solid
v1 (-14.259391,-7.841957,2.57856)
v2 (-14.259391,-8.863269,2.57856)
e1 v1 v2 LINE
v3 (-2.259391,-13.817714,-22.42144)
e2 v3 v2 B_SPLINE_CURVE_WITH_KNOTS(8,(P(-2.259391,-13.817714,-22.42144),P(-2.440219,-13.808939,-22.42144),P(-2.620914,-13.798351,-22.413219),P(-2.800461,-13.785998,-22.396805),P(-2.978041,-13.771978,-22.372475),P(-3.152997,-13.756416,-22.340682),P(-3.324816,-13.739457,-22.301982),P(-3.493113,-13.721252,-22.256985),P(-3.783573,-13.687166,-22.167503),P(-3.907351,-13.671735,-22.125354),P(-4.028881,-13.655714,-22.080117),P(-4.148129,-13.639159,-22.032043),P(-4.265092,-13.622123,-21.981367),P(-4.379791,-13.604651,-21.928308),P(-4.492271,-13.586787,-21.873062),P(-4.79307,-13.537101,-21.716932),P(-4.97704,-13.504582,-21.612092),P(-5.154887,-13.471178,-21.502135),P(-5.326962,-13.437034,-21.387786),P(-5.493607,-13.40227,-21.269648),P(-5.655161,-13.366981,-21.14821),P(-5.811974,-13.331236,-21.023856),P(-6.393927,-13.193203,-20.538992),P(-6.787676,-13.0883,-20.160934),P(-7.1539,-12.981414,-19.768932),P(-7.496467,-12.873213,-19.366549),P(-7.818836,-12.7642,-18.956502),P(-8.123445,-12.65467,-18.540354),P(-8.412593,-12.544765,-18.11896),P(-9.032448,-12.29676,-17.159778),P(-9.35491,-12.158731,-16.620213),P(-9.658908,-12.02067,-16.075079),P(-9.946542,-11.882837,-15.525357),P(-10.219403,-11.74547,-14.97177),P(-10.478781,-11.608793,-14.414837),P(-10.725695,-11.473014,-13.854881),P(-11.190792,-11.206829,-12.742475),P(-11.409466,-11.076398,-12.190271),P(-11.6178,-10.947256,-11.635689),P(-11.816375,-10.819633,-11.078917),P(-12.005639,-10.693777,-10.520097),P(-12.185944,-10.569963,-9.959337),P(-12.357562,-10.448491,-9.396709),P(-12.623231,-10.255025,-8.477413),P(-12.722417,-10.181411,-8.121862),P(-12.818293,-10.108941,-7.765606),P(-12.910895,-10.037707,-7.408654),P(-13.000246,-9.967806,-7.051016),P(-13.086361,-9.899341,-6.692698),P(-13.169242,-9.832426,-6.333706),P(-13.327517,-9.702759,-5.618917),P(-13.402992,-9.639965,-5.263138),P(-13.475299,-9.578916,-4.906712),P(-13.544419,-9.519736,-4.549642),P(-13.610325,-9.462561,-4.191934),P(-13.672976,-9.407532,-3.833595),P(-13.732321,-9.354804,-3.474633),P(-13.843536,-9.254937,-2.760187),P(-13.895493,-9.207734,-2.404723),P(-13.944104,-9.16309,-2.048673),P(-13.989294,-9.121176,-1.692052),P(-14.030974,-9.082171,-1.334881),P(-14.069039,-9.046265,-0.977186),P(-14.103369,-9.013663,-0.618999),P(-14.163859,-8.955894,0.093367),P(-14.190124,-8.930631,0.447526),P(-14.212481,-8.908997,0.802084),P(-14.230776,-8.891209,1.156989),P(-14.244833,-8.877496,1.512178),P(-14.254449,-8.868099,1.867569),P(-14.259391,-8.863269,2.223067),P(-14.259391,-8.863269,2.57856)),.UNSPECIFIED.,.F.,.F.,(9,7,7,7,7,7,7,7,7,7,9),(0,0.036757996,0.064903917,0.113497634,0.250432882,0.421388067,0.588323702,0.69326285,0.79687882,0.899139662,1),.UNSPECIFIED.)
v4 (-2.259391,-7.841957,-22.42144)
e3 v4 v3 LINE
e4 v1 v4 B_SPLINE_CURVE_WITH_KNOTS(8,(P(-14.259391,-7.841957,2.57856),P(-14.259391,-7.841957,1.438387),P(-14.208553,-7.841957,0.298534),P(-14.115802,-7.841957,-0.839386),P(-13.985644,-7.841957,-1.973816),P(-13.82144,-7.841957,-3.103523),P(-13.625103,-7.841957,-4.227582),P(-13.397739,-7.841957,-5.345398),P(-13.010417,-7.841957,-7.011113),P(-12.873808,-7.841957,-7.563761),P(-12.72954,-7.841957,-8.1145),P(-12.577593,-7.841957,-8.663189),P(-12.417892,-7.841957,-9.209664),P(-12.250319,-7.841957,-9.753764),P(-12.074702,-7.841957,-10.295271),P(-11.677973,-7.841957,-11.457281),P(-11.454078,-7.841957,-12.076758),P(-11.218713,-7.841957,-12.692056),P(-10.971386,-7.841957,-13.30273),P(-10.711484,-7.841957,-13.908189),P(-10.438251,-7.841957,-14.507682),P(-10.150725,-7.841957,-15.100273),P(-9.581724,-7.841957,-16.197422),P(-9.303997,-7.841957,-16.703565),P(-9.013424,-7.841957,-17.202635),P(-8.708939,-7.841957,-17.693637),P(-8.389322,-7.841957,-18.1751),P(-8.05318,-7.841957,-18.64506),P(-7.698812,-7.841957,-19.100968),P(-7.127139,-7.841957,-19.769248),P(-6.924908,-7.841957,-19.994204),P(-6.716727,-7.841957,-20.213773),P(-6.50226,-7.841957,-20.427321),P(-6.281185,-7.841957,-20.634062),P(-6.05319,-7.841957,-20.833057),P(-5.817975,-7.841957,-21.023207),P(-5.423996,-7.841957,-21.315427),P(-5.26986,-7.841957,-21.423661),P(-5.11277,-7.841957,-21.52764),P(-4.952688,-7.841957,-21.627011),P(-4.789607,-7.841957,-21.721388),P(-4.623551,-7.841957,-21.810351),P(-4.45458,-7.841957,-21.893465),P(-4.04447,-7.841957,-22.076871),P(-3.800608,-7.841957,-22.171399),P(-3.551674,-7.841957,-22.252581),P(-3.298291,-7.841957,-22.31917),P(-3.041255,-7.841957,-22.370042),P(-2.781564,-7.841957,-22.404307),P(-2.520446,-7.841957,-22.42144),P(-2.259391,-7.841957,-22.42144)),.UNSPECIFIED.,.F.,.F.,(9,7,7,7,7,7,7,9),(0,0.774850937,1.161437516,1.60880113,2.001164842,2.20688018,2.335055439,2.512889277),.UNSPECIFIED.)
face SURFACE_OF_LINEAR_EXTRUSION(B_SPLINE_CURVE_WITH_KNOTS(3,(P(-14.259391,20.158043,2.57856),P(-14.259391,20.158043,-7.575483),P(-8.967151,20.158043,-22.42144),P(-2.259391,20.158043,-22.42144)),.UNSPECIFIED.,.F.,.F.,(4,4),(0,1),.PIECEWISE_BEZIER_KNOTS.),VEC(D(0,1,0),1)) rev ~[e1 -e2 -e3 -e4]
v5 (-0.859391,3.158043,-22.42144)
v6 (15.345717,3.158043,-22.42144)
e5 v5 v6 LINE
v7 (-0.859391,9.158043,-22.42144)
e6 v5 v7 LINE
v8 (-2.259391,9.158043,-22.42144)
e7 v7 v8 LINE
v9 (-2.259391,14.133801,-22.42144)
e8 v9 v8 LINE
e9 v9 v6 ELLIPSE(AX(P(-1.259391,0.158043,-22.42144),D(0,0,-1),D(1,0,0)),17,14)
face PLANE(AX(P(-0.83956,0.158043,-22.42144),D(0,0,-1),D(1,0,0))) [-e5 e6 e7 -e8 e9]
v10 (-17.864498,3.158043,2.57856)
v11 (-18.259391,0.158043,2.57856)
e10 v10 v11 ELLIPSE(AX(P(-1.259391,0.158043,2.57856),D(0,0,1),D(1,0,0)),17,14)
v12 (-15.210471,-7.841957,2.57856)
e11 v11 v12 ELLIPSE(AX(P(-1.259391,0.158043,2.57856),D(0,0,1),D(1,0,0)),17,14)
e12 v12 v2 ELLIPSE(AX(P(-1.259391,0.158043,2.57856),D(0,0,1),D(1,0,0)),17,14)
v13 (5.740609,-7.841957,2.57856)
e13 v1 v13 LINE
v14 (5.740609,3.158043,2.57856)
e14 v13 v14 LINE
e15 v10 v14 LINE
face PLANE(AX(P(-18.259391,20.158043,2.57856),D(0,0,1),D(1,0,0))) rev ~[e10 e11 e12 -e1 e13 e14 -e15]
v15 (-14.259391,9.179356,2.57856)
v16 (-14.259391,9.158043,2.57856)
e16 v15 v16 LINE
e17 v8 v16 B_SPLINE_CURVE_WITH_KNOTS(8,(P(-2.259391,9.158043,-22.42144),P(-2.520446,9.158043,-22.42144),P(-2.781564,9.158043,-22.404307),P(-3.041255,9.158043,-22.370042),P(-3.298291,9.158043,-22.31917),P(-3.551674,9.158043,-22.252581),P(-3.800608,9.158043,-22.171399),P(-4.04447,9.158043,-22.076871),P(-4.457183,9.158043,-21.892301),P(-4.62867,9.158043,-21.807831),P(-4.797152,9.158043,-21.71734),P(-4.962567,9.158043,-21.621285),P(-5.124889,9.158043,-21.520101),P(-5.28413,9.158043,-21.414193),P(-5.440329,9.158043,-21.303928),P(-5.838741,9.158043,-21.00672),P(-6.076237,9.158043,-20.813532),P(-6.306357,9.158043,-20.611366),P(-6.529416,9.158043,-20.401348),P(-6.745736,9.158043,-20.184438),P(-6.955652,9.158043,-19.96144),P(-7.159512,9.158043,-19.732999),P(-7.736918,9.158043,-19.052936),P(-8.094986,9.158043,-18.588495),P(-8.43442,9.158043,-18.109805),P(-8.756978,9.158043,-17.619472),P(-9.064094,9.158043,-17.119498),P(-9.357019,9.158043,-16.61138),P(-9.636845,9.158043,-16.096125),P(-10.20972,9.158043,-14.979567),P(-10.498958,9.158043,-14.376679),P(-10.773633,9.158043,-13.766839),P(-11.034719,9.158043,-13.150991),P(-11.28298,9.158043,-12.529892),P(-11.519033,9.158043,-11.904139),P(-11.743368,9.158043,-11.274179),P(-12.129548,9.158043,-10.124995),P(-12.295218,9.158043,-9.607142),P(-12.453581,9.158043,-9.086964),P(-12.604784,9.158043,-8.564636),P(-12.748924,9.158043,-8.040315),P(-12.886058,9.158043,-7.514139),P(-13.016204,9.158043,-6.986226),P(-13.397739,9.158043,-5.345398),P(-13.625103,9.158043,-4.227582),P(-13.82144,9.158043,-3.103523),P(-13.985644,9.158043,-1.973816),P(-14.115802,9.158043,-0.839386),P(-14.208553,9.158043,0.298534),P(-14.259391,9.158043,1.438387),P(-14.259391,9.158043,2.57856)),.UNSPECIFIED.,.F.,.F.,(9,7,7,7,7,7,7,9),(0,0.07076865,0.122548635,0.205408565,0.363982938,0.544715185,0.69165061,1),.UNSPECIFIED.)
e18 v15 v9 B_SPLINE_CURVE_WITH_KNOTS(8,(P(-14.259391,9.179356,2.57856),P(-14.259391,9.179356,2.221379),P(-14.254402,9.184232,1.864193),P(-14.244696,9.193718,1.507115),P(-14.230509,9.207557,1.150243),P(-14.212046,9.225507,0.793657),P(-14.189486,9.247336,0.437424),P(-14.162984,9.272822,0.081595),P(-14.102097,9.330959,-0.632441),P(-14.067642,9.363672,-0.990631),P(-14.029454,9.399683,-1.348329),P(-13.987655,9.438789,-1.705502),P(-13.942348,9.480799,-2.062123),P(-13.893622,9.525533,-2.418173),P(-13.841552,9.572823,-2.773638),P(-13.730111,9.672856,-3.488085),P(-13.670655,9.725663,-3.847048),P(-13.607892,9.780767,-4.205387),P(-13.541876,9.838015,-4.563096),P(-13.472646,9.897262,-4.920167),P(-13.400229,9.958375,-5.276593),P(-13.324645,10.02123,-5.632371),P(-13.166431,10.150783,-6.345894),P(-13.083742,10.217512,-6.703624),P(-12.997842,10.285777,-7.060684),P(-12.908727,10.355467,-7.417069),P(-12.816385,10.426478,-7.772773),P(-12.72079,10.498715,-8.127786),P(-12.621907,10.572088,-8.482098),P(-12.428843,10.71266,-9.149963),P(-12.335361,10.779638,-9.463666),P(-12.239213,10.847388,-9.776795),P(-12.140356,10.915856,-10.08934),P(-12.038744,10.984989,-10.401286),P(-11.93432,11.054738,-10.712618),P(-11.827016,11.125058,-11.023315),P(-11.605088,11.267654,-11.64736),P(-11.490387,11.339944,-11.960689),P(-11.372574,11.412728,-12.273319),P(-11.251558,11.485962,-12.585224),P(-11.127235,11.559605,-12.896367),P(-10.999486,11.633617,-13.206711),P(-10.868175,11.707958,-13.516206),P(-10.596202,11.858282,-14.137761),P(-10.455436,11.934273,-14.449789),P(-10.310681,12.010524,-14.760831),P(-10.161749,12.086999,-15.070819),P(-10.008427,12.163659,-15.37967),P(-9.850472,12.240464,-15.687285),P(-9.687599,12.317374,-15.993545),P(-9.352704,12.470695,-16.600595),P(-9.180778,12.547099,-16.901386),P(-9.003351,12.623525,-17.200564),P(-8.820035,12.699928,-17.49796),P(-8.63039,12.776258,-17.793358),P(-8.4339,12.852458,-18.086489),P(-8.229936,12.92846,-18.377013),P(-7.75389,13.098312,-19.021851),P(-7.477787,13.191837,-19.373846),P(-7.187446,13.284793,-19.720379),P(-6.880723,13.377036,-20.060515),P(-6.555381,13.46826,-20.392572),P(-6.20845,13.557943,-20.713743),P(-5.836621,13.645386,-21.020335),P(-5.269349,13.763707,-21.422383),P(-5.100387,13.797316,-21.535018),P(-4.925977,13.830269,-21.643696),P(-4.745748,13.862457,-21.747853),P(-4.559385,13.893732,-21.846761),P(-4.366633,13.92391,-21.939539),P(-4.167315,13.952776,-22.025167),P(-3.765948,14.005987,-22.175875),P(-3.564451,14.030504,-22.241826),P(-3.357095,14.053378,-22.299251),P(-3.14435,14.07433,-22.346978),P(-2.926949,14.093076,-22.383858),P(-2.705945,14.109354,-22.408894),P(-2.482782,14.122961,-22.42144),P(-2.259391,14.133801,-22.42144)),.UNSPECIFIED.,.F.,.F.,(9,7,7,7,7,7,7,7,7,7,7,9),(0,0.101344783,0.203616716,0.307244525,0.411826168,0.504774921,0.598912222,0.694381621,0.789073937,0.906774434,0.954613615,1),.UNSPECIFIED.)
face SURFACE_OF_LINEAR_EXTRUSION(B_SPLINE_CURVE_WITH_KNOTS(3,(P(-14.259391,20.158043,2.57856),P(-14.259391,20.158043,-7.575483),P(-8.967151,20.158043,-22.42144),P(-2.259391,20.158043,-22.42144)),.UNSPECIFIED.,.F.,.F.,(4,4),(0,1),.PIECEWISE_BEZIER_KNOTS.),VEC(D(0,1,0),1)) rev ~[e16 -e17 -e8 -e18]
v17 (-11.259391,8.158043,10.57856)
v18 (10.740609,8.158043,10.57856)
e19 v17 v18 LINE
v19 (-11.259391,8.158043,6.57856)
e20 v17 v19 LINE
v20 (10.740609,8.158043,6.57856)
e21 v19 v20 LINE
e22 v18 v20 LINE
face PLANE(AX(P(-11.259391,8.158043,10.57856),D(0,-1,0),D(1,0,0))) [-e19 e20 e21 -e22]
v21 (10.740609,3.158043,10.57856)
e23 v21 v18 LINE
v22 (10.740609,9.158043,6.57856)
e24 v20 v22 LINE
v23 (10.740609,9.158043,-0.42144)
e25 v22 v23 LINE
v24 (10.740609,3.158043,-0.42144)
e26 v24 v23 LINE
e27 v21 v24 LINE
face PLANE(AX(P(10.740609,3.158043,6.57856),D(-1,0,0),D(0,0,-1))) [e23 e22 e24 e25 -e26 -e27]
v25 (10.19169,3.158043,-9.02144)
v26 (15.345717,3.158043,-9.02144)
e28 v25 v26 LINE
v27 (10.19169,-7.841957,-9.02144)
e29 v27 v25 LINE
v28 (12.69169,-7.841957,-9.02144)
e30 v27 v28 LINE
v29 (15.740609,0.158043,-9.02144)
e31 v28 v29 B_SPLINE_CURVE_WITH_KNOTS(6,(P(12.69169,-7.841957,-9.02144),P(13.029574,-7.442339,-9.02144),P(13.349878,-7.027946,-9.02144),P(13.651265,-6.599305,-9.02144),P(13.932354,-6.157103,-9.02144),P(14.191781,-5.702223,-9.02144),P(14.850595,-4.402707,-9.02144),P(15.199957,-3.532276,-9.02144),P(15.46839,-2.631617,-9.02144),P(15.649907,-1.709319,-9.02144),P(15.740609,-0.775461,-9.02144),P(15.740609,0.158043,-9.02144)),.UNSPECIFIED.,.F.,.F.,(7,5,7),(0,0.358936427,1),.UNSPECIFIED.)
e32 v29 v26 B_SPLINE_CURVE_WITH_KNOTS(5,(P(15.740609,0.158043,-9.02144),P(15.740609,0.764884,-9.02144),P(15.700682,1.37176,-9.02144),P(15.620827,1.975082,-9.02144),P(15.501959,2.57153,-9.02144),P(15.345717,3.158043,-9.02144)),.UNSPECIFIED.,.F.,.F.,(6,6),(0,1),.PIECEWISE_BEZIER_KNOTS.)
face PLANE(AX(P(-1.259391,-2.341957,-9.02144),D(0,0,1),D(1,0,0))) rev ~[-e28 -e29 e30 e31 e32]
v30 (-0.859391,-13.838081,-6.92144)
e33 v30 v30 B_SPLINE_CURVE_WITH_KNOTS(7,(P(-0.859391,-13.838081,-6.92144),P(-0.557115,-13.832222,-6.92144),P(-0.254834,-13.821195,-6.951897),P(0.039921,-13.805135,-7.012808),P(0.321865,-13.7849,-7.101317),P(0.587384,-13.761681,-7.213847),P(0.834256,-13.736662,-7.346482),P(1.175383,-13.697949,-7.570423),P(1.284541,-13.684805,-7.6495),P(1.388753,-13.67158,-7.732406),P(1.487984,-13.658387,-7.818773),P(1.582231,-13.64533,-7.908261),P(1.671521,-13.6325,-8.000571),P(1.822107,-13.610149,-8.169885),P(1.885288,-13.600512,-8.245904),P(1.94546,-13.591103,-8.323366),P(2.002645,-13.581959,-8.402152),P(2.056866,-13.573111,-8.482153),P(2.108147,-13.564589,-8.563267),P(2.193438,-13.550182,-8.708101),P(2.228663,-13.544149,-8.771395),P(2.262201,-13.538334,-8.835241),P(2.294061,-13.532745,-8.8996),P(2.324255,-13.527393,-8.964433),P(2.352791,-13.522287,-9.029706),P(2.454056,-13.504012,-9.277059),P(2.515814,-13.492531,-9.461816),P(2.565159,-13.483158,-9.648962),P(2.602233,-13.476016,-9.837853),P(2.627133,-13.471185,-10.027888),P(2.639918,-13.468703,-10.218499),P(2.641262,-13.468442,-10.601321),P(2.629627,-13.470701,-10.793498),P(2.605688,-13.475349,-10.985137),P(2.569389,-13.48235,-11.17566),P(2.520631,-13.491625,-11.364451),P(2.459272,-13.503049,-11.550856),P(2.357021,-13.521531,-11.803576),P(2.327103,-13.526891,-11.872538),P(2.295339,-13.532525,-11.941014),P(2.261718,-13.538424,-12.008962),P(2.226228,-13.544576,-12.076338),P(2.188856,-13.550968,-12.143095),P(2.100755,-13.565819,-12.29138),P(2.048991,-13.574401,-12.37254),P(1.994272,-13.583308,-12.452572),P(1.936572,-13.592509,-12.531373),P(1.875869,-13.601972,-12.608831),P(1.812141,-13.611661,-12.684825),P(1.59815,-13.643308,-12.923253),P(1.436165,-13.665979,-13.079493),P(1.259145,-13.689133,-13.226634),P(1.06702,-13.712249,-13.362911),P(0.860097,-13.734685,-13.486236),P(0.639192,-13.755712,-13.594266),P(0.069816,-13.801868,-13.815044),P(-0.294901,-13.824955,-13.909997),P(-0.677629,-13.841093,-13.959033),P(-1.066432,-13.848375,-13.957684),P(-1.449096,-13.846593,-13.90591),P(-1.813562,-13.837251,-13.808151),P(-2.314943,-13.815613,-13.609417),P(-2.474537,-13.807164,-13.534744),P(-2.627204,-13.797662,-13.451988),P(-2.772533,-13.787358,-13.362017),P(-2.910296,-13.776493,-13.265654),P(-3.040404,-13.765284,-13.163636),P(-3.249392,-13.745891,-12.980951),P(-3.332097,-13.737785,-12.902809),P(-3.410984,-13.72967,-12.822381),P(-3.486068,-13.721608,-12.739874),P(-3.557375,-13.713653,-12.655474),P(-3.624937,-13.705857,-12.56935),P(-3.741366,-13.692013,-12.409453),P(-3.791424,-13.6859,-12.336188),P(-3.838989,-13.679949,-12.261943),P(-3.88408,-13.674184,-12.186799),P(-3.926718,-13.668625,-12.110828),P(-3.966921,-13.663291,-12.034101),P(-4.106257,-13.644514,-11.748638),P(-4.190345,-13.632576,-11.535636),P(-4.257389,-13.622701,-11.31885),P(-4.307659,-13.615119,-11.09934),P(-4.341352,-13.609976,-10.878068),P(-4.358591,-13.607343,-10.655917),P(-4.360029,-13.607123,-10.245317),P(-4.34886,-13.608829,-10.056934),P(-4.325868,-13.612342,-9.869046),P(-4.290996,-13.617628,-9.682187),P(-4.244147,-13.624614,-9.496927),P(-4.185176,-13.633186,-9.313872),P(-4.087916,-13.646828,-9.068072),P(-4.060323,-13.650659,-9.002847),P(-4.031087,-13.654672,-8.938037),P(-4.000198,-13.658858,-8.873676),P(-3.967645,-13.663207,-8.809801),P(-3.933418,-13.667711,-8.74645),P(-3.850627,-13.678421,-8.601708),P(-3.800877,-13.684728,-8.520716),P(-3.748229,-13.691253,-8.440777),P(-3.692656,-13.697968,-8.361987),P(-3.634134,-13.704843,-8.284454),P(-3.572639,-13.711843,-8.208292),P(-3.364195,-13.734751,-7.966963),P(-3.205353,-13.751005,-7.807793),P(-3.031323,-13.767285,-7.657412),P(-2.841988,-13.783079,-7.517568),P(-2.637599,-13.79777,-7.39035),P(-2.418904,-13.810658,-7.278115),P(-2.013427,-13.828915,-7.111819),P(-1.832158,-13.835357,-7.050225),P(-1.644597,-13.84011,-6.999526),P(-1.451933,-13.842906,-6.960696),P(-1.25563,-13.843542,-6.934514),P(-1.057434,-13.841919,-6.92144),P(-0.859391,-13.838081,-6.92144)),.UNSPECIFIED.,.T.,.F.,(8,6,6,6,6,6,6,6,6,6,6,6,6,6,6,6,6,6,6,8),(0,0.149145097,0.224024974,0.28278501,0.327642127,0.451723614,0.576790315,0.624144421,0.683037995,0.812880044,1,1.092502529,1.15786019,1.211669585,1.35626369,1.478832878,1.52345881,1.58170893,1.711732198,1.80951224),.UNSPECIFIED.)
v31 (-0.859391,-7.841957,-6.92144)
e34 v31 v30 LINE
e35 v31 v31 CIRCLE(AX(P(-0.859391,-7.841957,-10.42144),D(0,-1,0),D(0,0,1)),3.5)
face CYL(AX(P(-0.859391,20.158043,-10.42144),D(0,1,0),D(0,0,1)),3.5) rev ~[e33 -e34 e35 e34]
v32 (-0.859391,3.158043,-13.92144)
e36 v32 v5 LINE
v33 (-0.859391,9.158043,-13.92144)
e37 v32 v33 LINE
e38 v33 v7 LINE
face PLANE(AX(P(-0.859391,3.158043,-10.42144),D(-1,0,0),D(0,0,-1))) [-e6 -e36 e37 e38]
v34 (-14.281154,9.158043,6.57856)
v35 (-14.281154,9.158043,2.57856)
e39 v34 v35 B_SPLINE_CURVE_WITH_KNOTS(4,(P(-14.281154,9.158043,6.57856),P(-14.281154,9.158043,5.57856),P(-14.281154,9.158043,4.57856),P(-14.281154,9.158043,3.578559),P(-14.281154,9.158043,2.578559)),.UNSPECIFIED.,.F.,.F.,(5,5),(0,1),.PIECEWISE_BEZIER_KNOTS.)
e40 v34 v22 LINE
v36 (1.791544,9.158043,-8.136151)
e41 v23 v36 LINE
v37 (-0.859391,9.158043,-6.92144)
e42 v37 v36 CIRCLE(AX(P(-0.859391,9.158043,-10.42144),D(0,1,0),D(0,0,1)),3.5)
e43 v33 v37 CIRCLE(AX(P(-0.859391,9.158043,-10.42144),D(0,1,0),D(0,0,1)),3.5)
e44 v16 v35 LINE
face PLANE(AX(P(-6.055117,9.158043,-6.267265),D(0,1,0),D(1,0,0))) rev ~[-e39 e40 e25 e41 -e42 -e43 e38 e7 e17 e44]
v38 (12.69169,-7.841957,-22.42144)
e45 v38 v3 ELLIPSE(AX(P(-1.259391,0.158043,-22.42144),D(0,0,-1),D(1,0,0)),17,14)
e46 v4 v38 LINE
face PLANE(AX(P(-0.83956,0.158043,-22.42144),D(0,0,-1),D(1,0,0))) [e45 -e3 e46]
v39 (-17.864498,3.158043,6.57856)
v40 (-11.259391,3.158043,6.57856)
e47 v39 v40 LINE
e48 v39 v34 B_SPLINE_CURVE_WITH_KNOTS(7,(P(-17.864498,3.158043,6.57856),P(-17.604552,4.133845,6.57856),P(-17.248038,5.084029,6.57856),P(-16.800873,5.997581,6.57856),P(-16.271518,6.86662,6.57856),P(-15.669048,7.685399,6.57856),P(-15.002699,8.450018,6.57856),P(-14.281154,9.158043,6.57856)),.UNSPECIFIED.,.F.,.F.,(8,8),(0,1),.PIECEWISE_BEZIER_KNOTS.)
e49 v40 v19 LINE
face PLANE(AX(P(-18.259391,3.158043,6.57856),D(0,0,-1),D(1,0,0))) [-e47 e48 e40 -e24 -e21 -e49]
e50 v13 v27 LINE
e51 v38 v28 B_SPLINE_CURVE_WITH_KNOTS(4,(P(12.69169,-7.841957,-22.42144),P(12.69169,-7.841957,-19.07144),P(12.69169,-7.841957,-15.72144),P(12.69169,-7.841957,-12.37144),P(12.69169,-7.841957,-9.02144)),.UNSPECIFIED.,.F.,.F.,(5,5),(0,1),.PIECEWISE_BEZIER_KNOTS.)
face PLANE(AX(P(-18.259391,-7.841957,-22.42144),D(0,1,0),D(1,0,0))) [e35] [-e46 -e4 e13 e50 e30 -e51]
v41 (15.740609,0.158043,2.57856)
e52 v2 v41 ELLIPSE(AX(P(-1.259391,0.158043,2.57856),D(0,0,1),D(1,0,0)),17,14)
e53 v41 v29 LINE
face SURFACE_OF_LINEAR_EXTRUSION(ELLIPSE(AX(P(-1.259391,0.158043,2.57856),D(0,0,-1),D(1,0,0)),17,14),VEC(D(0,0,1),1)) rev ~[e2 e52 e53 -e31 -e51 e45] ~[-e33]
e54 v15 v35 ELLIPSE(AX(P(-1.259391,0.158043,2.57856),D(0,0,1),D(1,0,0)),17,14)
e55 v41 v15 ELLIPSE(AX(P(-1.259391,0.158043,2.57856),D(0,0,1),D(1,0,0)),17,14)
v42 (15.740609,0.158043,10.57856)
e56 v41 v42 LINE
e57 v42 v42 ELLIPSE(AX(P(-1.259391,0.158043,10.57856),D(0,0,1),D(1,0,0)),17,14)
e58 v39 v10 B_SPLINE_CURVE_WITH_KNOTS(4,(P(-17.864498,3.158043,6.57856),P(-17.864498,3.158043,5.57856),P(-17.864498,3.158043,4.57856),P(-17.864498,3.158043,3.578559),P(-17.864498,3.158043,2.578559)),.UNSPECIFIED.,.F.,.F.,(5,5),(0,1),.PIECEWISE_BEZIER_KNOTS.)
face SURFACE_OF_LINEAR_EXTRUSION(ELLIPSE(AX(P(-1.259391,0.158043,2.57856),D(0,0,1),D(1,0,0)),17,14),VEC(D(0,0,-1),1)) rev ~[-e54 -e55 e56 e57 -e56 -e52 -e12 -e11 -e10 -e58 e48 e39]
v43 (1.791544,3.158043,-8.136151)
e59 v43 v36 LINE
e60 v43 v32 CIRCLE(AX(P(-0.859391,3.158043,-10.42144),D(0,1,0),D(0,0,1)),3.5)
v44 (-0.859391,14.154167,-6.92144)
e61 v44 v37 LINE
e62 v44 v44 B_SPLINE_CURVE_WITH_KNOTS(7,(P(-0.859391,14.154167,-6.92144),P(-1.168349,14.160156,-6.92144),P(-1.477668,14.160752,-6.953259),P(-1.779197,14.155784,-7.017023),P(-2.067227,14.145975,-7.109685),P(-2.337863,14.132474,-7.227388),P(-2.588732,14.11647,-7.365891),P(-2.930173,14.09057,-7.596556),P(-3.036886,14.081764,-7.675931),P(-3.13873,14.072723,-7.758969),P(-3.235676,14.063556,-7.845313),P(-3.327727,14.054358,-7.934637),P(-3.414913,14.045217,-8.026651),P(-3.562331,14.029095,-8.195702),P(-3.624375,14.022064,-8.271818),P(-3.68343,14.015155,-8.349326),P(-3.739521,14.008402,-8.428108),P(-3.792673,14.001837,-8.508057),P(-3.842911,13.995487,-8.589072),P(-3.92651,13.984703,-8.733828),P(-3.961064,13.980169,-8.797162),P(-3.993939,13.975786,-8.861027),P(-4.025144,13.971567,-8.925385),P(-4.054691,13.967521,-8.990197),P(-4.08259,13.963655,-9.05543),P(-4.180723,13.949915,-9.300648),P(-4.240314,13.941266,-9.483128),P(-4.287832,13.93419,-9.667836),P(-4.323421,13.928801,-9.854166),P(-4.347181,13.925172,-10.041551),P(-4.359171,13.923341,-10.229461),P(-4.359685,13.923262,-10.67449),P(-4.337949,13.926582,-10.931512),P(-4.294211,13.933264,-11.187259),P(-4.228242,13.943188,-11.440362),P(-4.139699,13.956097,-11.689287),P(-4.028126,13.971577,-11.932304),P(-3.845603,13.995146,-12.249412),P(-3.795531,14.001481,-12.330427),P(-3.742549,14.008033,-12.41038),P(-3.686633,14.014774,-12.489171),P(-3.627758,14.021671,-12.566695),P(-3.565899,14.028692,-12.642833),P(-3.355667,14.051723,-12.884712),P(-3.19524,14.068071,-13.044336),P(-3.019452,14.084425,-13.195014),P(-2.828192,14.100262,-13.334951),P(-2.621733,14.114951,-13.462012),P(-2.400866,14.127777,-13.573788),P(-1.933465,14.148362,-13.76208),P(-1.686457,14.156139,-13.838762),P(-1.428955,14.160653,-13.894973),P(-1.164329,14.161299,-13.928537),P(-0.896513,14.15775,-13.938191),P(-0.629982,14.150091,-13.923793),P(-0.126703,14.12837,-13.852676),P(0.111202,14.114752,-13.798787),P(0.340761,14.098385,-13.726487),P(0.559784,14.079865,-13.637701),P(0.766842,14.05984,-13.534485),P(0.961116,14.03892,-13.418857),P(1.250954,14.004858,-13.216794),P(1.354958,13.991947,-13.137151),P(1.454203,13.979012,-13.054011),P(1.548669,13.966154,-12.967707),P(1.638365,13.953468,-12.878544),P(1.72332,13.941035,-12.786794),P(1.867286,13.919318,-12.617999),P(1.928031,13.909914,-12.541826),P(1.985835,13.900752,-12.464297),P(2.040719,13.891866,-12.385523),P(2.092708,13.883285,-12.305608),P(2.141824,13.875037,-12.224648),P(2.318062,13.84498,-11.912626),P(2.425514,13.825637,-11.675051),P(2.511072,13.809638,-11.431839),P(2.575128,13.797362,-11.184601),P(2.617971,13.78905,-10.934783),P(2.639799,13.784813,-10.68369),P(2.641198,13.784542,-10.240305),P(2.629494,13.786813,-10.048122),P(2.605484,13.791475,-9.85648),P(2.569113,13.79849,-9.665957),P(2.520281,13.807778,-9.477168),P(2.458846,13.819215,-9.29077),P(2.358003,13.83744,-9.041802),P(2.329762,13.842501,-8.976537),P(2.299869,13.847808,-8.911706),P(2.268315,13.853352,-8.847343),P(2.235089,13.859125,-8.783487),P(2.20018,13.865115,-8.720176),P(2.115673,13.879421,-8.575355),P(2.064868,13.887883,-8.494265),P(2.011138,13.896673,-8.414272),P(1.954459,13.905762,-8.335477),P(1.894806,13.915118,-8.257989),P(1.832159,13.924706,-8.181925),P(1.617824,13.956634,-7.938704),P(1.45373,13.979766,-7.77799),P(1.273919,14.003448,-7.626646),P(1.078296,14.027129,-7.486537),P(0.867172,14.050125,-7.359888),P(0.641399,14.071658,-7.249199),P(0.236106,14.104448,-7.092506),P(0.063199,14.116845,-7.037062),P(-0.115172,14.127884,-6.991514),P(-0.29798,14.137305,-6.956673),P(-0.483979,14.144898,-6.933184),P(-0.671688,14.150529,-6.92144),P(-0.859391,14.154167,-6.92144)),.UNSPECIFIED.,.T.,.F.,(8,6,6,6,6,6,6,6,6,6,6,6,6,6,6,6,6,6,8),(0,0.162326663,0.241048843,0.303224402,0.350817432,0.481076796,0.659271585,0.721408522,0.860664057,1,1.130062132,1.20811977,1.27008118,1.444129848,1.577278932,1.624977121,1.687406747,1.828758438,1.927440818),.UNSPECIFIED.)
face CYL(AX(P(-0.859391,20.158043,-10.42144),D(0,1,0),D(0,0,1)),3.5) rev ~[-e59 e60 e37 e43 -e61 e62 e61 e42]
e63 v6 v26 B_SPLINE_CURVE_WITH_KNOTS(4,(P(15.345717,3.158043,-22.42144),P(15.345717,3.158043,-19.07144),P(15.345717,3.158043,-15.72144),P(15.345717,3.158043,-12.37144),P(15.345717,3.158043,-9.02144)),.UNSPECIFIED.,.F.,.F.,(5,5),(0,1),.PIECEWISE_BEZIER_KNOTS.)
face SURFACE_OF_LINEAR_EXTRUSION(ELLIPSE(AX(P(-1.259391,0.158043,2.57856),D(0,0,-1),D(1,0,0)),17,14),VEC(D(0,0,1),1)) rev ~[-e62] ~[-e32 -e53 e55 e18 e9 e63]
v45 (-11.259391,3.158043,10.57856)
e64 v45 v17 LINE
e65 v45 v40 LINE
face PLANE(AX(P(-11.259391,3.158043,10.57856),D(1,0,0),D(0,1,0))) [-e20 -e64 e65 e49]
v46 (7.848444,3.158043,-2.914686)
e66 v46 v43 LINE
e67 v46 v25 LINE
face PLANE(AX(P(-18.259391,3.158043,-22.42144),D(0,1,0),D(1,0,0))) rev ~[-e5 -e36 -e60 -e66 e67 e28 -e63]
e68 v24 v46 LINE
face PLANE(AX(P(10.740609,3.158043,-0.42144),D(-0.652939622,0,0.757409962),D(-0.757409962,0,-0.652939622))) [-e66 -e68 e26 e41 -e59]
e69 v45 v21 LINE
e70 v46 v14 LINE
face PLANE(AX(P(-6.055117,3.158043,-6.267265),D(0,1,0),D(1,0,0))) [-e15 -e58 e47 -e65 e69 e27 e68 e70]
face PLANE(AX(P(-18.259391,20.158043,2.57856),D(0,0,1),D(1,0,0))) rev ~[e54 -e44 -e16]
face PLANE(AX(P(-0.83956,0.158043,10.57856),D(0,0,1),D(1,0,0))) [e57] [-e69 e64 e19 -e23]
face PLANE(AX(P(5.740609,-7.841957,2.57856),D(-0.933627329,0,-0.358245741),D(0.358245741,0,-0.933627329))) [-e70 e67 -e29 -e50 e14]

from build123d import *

# Parameters (mm, degrees)
SKETCH1_RX          = 8.5
SKETCH1_RY          = 7
BOSS_EXTRUDE1_DEPTH = 4
SKETCH5_RX          = 8.5
SKETCH5_RY          = 7
BOSS_EXTRUDE2_DEPTH = 12.5
SKETCH6_R           = 1.75
CUT_EXTRUDE1_DEPTH  = 20
SKETCH8_W           = 17
SKETCH8_H           = 5.5
CUT_EXTRUDE4_DEPTH  = 6.7
SKETCH9_W           = 11
SKETCH9_H           = 2.5
CUT_EXTRUDE5_DEPTH  = 5.5
CUT_EXTRUDE7_DEPTH  = 5.5
CUT_EXTRUDE8_DEPTH  = 3
SCALE1_SCALE        = 2


with BuildPart() as part:
    # Sketch1 → Boss-Extrude1 (new body)
    with BuildSketch(Plane.XY):
        with Locations(Location((0, 0), (0, 0, 0))):
            Ellipse(SKETCH1_RX, SKETCH1_RY)
    extrude(amount=BOSS_EXTRUDE1_DEPTH)

    # Sketch5 → Boss-Extrude2 (add)
    with BuildSketch(Plane(origin=(0, 0, 0), x_dir=(-1, 0, 0), z_dir=(0, 0, -1))):
        with Locations(Location((0, 0), (0, 0, -180))):
            Ellipse(SKETCH5_RX, SKETCH5_RY)
    extrude(amount=BOSS_EXTRUDE2_DEPTH)

    # Sketch6 → Cut-Extrude1 (cut)
    with BuildSketch(Plane(origin=(0, 10, 0), x_dir=(1, 0, 0), z_dir=(0, 1, 0))):
        with Locations(Location((0.2, 6.5, 0), (0, 0, 270))):
            Circle(SKETCH6_R)
        with BuildLine():
            Line((-8.5, 12.5), (-8.5, 0))
            Line((-8.5, 0), (-6.5, 0))
            add(Edge.make_bspline(
                [(-6.5, 0), (-6.5, 5.077021549), (-3.853880334, 12.5), (-0.5, 12.5)],
                knots=[0, 0, 0, 0, 1, 1, 1, 1], degree=3))
            Line((-0.5, 12.5), (-8.5, 12.5))
        make_face()
    extrude(amount=-CUT_EXTRUDE1_DEPTH, mode=Mode.SUBTRACT)

    # Sketch8 → Cut-Extrude4 (cut)
    with BuildSketch(Plane.XY.offset(-12.5)):
        with Locations((0, -1.25)):
            Rectangle(SKETCH8_W, SKETCH8_H)
    extrude(amount=CUT_EXTRUDE4_DEPTH, mode=Mode.SUBTRACT)

    # Sketch9 → Cut-Extrude5 (cut)
    with BuildSketch(Plane.XY.offset(4)):
        with Locations((0.5, 2.75)):
            Rectangle(SKETCH9_W, SKETCH9_H)
    extrude(amount=-CUT_EXTRUDE5_DEPTH, mode=Mode.SUBTRACT)

    # Sketch10 → Cut-Extrude7 (cut)
    with BuildSketch(Plane(origin=(0, -4, 0), x_dir=(1, 0, 0), z_dir=(0, 1, 0))):
        Polygon((-8.5, 0), (3.5, 0), (5.725540357, 5.8), (-8.5, 5.8), align=None)
    extrude(amount=CUT_EXTRUDE7_DEPTH, mode=Mode.SUBTRACT)

    # Sketch11 → Cut-Extrude8 (cut)
    with BuildSketch(Plane(origin=(0, 1.5, 0), x_dir=(-1, 0, 0), z_dir=(0, -1, 0))):
        Polygon((-0.2, 6.5), (-0.2, 12.5), (8.5, 12.5), (8.5, 1.5), (8.5, -2), (-6, -2), (-6, 1.5), align=None)
    extrude(amount=-CUT_EXTRUDE8_DEPTH, mode=Mode.SUBTRACT)


with BuildPart() as part_1:
    # Scale1: scaled about (1.259390776, -0.158043462, -2.5785604)
    add(part.part.scale(SCALE1_SCALE).moved(Location((-1.259390776, 0.158043462, 2.5785604))))


solid = part_1.part
